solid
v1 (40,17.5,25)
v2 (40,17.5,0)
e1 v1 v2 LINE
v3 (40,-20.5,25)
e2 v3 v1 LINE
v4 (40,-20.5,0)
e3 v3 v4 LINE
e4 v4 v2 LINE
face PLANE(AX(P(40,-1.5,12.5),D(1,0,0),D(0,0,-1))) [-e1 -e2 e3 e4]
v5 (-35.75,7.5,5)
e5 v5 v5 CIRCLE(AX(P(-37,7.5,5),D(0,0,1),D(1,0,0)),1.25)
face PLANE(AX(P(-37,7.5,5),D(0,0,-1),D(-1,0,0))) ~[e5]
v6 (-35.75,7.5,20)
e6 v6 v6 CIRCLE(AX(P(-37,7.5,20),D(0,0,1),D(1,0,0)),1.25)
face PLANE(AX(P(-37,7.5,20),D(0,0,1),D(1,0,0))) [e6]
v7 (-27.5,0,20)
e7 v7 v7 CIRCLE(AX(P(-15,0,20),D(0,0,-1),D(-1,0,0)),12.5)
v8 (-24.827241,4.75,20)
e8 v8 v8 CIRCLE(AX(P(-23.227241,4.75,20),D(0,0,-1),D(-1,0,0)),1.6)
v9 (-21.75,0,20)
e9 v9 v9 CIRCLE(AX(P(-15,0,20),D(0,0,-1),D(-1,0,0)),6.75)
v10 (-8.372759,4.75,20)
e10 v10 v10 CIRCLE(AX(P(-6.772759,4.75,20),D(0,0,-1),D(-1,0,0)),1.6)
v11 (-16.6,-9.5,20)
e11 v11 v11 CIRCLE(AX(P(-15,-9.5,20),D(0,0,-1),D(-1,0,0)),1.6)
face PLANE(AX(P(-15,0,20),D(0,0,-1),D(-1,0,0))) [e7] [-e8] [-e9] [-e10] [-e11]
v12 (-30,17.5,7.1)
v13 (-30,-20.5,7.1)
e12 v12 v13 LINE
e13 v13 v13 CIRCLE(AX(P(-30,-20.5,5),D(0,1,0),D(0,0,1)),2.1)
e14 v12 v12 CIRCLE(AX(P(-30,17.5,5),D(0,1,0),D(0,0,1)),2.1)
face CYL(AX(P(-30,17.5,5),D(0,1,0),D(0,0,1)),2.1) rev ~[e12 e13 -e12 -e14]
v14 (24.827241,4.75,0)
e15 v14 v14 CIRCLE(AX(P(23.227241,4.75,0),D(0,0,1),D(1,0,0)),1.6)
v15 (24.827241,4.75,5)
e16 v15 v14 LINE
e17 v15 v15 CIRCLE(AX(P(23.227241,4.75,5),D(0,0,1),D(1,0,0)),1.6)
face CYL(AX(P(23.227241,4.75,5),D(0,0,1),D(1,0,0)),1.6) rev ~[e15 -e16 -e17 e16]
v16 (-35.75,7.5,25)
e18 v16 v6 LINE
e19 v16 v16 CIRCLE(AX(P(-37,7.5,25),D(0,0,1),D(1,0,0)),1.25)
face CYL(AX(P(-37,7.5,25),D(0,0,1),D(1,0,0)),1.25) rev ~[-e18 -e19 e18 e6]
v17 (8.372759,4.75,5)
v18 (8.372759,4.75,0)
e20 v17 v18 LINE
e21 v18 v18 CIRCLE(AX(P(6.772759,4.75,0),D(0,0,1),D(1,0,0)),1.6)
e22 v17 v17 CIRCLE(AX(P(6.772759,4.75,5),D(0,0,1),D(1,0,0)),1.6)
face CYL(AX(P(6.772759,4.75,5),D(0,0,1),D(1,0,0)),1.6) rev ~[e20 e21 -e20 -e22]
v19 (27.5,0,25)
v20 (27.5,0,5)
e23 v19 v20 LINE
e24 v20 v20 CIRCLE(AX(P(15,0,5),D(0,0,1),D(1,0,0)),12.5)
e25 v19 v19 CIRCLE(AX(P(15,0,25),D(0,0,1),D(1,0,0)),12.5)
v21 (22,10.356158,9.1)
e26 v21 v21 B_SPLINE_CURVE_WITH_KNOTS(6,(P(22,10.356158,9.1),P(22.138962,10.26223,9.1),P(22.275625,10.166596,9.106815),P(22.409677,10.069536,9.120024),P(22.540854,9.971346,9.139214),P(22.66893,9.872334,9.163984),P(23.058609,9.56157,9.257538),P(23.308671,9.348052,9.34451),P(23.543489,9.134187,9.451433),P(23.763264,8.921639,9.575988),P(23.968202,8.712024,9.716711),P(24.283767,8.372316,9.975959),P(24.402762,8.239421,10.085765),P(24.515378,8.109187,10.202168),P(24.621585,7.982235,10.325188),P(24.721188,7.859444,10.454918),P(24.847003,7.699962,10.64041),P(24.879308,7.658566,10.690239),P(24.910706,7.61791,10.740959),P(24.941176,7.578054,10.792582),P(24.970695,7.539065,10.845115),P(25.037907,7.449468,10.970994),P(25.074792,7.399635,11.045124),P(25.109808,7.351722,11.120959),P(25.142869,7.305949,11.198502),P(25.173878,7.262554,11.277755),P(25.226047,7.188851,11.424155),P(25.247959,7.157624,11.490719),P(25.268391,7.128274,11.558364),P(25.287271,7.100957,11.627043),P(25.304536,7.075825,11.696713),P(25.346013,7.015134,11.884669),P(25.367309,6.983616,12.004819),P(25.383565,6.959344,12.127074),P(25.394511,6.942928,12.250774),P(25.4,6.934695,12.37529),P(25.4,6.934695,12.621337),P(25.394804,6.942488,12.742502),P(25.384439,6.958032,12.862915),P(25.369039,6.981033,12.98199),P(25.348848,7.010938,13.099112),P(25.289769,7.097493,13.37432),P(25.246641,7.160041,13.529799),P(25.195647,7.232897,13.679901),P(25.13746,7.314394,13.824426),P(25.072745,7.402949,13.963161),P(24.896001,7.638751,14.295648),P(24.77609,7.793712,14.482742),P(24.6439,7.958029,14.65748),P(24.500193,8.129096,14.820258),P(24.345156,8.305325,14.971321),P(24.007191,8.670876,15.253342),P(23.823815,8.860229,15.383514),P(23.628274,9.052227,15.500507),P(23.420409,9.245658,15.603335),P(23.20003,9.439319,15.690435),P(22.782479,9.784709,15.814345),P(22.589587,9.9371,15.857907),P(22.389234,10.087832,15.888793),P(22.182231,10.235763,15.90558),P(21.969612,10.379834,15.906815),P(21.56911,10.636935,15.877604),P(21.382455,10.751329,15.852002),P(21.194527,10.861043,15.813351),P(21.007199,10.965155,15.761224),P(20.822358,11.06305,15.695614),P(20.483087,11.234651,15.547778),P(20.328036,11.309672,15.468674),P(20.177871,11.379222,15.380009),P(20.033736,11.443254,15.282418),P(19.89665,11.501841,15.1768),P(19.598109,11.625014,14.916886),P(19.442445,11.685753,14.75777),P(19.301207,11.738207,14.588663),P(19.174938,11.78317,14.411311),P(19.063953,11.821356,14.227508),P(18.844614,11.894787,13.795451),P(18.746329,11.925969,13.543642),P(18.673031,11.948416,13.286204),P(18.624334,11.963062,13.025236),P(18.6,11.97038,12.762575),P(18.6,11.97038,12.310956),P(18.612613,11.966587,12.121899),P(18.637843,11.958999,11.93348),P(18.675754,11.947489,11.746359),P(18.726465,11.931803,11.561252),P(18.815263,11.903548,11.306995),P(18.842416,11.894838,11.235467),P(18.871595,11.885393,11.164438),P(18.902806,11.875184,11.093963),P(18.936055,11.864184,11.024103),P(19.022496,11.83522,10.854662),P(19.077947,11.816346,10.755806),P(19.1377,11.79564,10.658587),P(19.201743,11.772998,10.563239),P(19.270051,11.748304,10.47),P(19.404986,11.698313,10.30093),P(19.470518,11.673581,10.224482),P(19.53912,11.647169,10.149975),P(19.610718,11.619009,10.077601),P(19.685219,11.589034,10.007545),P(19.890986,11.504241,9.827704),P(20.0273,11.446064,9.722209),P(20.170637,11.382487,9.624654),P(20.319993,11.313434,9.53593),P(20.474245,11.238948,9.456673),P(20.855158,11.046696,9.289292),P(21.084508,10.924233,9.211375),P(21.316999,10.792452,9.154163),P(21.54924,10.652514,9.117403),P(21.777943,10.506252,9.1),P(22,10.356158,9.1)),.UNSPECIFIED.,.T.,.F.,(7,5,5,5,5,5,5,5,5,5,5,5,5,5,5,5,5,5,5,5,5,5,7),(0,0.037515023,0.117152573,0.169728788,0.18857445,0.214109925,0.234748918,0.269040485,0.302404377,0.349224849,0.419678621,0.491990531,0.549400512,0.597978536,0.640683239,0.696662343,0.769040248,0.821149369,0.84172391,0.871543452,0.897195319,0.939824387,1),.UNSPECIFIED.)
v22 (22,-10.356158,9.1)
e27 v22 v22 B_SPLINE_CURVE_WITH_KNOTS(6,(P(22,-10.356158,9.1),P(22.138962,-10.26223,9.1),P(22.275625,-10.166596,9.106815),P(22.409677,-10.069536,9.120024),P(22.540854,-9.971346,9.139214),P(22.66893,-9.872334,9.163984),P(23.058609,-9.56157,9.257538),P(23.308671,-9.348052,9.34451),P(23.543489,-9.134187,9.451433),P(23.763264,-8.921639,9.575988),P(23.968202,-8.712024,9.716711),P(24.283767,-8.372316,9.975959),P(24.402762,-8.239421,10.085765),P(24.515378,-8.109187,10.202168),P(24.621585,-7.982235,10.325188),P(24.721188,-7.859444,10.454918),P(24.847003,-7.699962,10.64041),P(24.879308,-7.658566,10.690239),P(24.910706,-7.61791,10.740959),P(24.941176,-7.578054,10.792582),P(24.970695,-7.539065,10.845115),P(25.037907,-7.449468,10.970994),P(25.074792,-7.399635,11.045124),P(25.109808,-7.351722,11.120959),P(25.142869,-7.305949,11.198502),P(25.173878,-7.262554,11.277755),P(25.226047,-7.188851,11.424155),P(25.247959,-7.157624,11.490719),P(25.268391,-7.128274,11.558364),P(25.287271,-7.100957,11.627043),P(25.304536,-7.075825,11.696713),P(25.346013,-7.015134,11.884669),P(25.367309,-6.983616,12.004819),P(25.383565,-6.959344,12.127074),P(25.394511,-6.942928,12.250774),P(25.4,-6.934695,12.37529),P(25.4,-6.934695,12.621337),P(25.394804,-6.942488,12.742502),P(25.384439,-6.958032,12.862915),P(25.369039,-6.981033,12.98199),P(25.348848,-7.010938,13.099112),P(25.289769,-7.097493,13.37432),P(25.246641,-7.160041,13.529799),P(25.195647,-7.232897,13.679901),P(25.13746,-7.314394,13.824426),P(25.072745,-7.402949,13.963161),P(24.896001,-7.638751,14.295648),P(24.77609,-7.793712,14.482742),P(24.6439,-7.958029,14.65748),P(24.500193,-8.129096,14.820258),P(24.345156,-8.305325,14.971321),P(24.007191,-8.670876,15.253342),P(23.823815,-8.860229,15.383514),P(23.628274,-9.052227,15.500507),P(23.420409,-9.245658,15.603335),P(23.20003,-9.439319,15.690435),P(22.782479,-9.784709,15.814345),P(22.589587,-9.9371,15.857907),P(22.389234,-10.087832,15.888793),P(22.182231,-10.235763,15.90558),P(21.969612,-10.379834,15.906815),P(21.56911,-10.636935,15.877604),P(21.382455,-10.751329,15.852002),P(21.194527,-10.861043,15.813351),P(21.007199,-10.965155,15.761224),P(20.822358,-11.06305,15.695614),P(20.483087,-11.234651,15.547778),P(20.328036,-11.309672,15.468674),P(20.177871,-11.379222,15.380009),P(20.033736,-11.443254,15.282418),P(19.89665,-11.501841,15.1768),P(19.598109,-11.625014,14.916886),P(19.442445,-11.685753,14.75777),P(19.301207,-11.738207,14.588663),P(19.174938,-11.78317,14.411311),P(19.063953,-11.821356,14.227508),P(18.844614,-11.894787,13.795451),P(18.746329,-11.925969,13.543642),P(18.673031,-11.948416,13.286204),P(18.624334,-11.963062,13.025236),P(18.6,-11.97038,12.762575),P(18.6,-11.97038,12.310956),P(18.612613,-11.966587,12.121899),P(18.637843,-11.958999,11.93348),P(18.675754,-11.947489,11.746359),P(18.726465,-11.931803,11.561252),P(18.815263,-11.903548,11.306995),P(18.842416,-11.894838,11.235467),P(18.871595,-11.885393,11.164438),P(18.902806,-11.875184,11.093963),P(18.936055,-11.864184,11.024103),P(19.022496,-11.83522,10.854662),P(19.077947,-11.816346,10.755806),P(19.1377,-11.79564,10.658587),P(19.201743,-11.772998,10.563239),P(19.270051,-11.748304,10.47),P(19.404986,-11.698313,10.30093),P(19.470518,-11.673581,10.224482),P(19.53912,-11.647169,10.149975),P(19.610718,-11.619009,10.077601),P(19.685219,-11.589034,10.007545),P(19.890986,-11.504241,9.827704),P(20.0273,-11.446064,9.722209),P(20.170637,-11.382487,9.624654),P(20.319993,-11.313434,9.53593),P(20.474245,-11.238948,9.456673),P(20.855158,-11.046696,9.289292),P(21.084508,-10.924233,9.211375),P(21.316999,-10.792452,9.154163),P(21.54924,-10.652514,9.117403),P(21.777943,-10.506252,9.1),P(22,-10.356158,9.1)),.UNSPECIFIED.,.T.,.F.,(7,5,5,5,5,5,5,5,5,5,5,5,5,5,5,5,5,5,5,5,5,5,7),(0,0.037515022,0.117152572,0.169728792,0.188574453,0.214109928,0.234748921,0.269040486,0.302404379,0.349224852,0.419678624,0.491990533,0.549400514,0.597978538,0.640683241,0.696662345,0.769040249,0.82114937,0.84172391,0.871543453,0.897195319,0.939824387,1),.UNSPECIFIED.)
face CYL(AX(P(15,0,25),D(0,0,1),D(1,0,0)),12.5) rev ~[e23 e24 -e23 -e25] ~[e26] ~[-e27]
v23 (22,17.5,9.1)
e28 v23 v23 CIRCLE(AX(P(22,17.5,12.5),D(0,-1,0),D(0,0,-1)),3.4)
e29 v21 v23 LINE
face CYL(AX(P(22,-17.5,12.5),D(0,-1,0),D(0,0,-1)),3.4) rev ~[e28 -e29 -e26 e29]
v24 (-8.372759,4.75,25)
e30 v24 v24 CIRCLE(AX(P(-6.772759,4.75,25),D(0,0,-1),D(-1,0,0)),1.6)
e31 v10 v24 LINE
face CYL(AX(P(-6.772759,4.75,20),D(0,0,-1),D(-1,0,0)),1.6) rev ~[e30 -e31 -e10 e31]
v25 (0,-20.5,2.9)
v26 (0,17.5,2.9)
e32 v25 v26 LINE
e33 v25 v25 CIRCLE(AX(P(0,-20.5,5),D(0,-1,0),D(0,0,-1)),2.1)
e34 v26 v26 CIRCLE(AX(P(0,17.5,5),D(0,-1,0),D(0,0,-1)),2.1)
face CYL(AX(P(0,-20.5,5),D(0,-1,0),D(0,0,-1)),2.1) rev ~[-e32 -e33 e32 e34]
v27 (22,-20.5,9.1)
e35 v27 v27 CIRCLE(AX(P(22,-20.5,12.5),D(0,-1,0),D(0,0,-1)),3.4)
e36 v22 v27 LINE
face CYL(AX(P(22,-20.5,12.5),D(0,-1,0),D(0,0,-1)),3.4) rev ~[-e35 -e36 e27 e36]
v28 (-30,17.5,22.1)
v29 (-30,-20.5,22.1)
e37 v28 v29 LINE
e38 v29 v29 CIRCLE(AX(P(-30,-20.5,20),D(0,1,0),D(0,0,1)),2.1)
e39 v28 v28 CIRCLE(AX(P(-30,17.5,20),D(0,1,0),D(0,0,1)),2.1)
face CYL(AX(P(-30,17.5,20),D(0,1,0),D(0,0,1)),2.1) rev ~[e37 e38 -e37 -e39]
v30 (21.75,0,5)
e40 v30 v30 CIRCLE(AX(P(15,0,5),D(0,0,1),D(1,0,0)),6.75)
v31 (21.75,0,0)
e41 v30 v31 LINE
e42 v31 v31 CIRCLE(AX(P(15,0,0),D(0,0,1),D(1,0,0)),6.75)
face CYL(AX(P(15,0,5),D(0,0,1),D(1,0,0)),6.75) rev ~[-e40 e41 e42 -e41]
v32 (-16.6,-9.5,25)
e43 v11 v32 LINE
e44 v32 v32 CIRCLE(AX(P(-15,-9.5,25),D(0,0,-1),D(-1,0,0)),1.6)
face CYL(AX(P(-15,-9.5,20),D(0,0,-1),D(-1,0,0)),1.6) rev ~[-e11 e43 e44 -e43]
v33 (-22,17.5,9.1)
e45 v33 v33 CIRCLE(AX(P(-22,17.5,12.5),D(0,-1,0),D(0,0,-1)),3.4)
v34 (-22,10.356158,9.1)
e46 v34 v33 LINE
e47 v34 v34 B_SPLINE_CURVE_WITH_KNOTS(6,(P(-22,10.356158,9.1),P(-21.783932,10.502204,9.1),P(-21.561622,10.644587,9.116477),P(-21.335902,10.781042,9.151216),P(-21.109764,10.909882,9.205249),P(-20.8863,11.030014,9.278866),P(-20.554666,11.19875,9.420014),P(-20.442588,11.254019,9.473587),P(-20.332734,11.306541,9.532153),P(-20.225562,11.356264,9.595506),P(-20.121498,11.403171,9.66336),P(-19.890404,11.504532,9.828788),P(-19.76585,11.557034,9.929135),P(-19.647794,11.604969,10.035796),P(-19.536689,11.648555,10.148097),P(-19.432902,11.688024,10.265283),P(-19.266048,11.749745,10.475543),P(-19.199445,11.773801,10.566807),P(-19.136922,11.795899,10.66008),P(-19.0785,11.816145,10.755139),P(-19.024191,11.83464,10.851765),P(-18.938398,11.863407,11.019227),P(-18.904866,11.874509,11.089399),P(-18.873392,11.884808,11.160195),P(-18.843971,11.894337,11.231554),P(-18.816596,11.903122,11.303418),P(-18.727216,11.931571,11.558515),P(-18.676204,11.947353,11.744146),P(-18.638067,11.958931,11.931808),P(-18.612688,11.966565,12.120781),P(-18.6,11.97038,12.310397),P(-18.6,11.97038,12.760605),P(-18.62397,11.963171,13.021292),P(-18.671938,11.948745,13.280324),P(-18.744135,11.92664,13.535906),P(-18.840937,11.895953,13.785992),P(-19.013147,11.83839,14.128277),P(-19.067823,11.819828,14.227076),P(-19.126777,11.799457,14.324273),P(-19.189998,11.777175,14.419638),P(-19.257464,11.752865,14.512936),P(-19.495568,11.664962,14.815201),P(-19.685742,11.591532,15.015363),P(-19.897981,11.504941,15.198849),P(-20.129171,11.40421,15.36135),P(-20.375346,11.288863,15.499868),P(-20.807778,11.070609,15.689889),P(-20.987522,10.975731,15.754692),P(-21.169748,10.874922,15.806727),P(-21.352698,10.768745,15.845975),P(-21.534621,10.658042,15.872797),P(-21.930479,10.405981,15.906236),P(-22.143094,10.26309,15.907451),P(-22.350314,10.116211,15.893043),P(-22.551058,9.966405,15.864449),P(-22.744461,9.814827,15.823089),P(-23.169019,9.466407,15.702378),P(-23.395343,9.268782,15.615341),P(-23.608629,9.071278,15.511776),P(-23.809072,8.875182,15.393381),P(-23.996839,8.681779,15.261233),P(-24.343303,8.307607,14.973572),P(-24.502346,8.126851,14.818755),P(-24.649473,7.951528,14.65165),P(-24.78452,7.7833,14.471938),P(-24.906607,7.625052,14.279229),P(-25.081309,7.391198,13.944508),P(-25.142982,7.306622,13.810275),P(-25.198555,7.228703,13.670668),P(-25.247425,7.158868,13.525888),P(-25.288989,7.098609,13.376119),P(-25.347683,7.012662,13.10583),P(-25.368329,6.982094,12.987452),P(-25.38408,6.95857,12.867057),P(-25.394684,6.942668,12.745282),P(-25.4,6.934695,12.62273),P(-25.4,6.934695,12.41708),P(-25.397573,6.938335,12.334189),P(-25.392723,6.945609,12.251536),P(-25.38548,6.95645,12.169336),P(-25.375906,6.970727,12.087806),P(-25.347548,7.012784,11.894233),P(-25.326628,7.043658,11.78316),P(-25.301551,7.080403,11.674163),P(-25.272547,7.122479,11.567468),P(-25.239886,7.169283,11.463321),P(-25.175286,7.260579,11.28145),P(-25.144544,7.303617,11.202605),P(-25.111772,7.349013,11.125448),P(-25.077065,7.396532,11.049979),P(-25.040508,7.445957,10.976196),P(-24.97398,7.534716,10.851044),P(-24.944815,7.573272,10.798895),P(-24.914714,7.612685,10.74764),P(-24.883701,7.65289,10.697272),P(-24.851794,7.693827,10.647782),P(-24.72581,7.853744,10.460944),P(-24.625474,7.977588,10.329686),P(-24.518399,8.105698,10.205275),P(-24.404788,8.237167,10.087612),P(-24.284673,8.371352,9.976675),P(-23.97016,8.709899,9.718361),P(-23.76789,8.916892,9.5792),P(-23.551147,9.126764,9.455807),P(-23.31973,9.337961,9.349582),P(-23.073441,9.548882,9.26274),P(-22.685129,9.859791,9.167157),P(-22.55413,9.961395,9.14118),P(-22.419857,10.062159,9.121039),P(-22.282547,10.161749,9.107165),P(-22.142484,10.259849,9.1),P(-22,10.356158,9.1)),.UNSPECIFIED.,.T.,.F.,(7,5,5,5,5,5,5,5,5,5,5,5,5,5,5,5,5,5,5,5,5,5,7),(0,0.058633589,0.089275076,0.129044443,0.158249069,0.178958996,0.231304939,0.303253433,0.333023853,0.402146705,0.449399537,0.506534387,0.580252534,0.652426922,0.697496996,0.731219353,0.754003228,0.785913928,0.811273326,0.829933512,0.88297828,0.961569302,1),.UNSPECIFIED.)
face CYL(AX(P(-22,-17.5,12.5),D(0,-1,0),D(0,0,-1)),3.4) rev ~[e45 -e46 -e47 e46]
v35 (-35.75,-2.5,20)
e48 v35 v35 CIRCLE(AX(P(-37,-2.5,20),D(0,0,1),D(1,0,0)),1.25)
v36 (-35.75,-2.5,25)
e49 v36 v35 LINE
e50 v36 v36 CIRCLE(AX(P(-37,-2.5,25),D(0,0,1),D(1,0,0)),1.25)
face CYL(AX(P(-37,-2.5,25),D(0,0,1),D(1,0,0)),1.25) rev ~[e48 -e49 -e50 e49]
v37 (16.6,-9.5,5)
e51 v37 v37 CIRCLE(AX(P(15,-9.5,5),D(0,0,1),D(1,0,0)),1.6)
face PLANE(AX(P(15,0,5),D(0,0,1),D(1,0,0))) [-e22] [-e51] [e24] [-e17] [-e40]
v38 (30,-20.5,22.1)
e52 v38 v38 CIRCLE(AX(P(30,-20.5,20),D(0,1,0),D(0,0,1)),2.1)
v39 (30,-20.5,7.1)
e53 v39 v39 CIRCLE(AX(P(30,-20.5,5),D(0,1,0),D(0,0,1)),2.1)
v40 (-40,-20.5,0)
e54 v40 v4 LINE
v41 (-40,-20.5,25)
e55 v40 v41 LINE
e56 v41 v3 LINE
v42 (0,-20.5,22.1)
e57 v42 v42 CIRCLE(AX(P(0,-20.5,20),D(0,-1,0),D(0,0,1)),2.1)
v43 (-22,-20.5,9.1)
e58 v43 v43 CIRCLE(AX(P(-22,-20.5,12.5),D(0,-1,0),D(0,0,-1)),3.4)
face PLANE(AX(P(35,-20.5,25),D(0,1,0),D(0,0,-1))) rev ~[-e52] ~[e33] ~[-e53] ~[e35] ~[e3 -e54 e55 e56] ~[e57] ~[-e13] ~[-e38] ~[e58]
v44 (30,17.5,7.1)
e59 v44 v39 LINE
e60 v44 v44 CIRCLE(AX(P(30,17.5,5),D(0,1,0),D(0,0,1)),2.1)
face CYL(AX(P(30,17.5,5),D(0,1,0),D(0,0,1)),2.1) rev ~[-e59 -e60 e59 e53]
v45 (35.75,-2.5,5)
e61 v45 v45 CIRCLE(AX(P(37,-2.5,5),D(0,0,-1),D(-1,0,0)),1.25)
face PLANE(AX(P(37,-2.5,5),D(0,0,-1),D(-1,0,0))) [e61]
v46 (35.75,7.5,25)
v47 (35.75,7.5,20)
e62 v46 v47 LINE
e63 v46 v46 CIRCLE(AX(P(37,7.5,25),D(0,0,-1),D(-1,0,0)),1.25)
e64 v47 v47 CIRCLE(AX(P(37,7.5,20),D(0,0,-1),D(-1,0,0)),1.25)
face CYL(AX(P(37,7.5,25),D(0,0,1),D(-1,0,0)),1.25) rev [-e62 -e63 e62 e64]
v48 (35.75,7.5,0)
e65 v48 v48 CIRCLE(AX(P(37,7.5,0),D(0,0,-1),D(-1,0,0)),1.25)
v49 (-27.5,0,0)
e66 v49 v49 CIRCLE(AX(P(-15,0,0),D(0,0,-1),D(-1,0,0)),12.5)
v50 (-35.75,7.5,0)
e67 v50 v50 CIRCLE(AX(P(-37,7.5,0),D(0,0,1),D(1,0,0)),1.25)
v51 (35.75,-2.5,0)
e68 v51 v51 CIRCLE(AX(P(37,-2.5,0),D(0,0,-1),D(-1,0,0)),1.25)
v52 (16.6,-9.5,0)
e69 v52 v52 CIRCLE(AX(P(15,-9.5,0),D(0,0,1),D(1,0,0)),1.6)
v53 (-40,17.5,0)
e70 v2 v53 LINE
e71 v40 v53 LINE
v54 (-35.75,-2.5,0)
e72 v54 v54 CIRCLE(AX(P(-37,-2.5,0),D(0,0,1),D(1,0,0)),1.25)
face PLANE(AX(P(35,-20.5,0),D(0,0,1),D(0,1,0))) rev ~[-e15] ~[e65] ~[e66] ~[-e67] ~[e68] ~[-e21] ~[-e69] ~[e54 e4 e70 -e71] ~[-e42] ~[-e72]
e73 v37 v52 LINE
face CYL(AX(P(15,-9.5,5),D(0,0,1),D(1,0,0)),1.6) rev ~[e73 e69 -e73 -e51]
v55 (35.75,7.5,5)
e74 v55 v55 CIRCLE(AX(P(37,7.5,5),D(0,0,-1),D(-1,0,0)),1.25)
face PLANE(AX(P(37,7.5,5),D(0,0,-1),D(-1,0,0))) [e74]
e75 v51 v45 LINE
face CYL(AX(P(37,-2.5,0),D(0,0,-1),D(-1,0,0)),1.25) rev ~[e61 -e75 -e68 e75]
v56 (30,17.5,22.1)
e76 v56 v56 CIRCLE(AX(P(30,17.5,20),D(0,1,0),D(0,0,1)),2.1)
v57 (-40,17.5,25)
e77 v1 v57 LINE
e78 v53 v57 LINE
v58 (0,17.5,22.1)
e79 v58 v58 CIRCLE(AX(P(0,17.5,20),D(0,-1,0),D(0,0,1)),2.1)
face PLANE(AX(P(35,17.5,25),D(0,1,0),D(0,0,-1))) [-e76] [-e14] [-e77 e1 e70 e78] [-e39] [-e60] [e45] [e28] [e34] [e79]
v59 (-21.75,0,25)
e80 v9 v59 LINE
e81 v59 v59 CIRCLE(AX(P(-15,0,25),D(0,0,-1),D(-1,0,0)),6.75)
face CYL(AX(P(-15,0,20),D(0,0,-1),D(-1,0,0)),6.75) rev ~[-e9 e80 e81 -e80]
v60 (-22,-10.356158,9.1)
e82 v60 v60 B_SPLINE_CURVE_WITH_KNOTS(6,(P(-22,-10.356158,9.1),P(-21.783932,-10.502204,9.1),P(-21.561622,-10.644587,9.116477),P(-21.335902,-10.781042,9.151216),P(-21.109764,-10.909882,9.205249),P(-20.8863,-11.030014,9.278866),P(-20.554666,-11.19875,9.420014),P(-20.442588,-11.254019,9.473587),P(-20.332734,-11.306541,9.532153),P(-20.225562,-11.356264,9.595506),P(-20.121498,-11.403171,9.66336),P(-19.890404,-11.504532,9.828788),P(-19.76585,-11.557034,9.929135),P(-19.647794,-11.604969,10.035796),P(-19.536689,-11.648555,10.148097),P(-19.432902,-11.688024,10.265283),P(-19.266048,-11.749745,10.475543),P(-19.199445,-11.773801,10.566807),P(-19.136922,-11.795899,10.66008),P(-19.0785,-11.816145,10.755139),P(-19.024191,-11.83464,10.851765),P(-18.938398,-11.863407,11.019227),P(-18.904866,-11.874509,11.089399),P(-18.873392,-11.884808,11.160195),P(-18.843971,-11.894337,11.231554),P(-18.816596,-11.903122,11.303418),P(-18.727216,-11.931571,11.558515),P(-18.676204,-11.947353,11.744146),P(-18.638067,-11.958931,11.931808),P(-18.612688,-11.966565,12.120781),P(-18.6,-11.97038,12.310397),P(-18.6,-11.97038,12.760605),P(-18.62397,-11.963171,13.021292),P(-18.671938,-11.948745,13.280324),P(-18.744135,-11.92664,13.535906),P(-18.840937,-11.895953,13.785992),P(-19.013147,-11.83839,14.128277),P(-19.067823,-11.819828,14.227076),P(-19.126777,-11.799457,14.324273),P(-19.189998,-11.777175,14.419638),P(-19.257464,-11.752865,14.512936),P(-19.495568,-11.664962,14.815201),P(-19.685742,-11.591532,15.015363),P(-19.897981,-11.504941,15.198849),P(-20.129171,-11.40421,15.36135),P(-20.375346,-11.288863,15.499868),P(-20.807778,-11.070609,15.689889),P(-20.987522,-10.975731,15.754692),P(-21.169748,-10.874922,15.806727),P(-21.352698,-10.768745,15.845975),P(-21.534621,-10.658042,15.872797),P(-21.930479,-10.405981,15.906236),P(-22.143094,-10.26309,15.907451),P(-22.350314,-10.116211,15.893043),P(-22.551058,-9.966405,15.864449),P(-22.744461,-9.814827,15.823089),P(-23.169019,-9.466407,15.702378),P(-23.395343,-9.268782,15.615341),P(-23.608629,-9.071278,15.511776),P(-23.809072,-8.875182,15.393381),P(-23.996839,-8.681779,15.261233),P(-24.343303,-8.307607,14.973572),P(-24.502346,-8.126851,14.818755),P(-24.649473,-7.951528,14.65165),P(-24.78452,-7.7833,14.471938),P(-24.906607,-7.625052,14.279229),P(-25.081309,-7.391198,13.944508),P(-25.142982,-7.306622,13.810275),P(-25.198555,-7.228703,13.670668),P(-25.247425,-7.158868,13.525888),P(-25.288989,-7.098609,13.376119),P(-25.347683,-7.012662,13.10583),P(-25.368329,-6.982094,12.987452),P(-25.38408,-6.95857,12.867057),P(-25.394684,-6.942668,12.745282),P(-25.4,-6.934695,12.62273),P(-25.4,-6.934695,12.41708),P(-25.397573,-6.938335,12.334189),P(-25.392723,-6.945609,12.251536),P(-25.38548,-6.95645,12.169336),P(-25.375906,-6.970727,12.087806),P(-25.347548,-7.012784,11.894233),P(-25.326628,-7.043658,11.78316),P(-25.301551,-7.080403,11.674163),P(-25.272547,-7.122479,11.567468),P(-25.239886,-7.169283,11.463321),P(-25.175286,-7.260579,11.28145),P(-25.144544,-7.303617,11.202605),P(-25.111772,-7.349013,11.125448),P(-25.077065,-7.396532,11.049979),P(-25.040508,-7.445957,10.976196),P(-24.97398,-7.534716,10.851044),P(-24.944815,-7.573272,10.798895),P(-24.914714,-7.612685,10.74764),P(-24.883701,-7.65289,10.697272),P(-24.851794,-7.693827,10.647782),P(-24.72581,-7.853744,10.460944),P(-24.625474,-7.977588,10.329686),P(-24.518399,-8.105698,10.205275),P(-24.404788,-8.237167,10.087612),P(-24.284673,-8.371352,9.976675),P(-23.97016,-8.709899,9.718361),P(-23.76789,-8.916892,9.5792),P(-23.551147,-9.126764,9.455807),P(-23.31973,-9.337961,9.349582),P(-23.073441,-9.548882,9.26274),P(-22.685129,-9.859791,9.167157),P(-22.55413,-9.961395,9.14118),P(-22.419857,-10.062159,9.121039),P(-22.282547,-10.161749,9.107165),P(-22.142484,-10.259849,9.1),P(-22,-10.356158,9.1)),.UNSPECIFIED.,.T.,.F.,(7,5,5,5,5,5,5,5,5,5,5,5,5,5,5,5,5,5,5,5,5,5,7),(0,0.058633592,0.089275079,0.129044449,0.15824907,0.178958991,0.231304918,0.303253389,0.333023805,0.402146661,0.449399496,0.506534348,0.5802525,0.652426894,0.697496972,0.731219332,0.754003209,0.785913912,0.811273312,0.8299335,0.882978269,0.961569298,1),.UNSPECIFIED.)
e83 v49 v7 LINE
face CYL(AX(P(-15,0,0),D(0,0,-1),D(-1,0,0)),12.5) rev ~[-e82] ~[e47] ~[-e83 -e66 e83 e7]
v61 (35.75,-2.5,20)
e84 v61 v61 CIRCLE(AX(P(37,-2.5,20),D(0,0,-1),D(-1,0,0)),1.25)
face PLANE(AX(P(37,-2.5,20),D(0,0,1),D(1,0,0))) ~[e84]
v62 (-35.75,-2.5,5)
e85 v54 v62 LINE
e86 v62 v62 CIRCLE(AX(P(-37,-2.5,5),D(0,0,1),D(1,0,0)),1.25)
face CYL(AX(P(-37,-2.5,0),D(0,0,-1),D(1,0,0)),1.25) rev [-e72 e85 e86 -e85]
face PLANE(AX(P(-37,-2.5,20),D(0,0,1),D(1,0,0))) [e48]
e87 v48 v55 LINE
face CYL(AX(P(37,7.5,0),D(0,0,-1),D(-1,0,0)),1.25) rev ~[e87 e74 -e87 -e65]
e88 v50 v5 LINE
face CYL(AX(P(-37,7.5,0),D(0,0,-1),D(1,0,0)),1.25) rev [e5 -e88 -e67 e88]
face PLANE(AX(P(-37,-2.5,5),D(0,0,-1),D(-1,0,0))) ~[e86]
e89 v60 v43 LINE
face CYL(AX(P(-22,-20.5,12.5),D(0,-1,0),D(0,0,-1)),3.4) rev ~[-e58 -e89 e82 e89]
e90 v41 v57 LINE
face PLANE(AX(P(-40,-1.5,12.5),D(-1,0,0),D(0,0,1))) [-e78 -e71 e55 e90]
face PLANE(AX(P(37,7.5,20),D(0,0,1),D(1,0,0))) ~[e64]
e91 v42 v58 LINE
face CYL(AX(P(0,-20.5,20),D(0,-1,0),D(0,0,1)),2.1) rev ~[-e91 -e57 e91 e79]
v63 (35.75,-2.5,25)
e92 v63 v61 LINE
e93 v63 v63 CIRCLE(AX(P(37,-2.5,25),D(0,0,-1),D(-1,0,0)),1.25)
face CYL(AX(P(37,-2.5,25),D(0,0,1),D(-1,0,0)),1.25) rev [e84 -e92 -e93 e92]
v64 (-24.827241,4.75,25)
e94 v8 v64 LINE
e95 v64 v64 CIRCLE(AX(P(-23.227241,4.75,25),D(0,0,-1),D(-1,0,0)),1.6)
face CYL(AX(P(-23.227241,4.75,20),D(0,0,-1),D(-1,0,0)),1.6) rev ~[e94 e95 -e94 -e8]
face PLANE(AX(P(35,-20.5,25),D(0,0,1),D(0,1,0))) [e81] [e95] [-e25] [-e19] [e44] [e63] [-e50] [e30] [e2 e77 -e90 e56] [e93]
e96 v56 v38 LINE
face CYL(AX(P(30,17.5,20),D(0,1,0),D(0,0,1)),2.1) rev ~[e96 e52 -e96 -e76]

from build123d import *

# Parameters (mm, degrees)
SKETCH_1_W               = 70
SKETCH_1_H               = 35
EXTRUDE_1_DEPTH          = 25
SKETCH_3_R               = 12.5
CUT_EXTRUDE_2_DEPTH      = 20
SKETCH_5_R               = 6.75
CUT_EXTRUDE_4_DEPTH      = 5
SKETCH_6_R               = 1.6
CUT_EXTRUDE_5_DEPTH      = 5
SKETCH_8_R               = 12.5
CUT_EXTRUDE_6_DEPTH      = 20
SKETCH_9_R               = 6.75
CUT_EXTRUDE_7_DEPTH      = 20
SKETCH_10_R              = 1.6
CUT_EXTRUDE_8_DEPTH      = 44.945989578
SKETCH_11_R              = 3.4
CUT_EXTRUDE_9_DEPTH      = 56.452682532
EXTRUDE_START            = 3
SKETCH_13_W              = 70
SKETCH_13_H              = 25
SKETCH_13_R              = 3.4
EXTRUDE_3_DEPTH          = 3
SKETCH_2_R               = 2.1
CUT_EXTRUDE_1_DEPTH      = 58.393379519
SKETCH_15_W              = 25
SKETCH_15_H              = 38
EXTRUDE_4_DEPTH          = 5
SKETCH_16_W              = 25
SKETCH_16_H              = 38
EXTRUDE_5_DEPTH          = 5
SKETCH_17_R              = 2.1
CUT_EXTRUDE_11_DEPTH     = 61.572270988
SKETCH_18_R              = 1.25
CUT_EXTRUDE_12_DEPTH     = 5
MIRROR_2_COPY_1_SKETCH_R = 1.25
MIRROR_2_COPY_1_DEPTH    = 5


with BuildPart() as part:
    # 草图1 → 凸台-拉伸1 (new body)
    with BuildSketch(Plane.XY):
        Rectangle(SKETCH_1_W, SKETCH_1_H)
    extrude(amount=EXTRUDE_1_DEPTH)

    # 草图3 → 切除-拉伸2 (cut)
    with BuildSketch(Plane(origin=(0, 0, 0), x_dir=(-1, 0, 0), z_dir=(0, 0, -1))):
        with Locations((15, 0)):
            Circle(SKETCH_3_R)
    extrude(amount=-CUT_EXTRUDE_2_DEPTH, mode=Mode.SUBTRACT)

    # 草图5 → 切除-拉伸4 (cut)
    with BuildSketch(Plane(origin=(0, 0, 20), x_dir=(-1, 0, 0), z_dir=(0, 0, -1))):
        with Locations((15, 0)):
            Circle(SKETCH_5_R)
    extrude(amount=-CUT_EXTRUDE_4_DEPTH, mode=Mode.SUBTRACT)

    # 草图6 → 切除-拉伸5 (cut)
    with BuildSketch(Plane(origin=(0, 0, 20), x_dir=(-1, 0, 0), z_dir=(0, 0, -1))):
        with Locations((15, -9.5)):
            Circle(SKETCH_6_R)
        with Locations((6.772758664, 4.75)):
            Circle(SKETCH_6_R)
        with Locations((23.227241336, 4.75)):
            Circle(SKETCH_6_R)
    extrude(amount=-CUT_EXTRUDE_5_DEPTH, mode=Mode.SUBTRACT)

    # 草图8 → 切除-拉伸6 (cut)
    with BuildSketch(Plane.XY.offset(25)):
        with Locations((15, 0)):
            Circle(SKETCH_8_R)
    extrude(amount=-CUT_EXTRUDE_6_DEPTH, mode=Mode.SUBTRACT)

    # 草图9 → 切除-拉伸7 (cut)
    with BuildSketch(Plane.XY.offset(5)):
        with Locations((15, 0)):
            Circle(SKETCH_9_R)
    extrude(amount=-CUT_EXTRUDE_7_DEPTH, mode=Mode.SUBTRACT)

    # 草图10 → 切除-拉伸8 (cut, through all)
    with BuildSketch(Plane.XY.offset(5)):
        with Locations((15, -9.5)):
            Circle(SKETCH_10_R)
        with Locations((6.772758664, 4.75)):
            Circle(SKETCH_10_R)
        with Locations((23.227241336, 4.75)):
            Circle(SKETCH_10_R)
    extrude(amount=-CUT_EXTRUDE_8_DEPTH, mode=Mode.SUBTRACT)

    # 草图11 → 切除-拉伸9 (cut, through all)
    with BuildSketch(Plane.XZ.offset(17.5)):
        with Locations(Location((22, 12.5, 0), (0, 0, 270))):
            Circle(SKETCH_11_R)
        with Locations(Location((-22, 12.5, 0), (0, 0, 270))):
            Circle(SKETCH_11_R)
    extrude(amount=-CUT_EXTRUDE_9_DEPTH, mode=Mode.SUBTRACT)

    # 草图13 → 凸台-拉伸3 (add)
    with BuildSketch(Plane.XZ.offset(17.5).offset(EXTRUDE_START)):
        with Locations((0, 12.5)):
            Rectangle(SKETCH_13_W, SKETCH_13_H)
        with Locations(Location((-22, 12.5, 0), (0, 0, 270))):
            Circle(SKETCH_13_R, mode=Mode.SUBTRACT)
        with Locations(Location((22, 12.5, 0), (0, 0, 270))):
            Circle(SKETCH_13_R, mode=Mode.SUBTRACT)
    extrude(amount=-EXTRUDE_3_DEPTH)

    # 草图2 → 切除-拉伸1 (cut, through all)
    with BuildSketch(Plane(origin=(0, 17.5, 0), x_dir=(1, 0, 0), z_dir=(0, 1, 0))):
        with Locations(Location((30, -5, 0), (0, 0, 270))):
            Circle(SKETCH_2_R)
        with Locations(Location((30, -20, 0), (0, 0, 270))):
            Circle(SKETCH_2_R)
        with Locations(Location((-30, -5, 0), (0, 0, 270))):
            Circle(SKETCH_2_R)
        with Locations(Location((-30, -20, 0), (0, 0, 270))):
            Circle(SKETCH_2_R)
    extrude(amount=-CUT_EXTRUDE_1_DEPTH, mode=Mode.SUBTRACT)

    # 草图15 → 凸台-拉伸4 (add)
    with BuildSketch(Plane.ZY.offset(35)):
        with Locations((12.5, -1.5)):
            Rectangle(SKETCH_15_W, SKETCH_15_H)
    extrude(amount=EXTRUDE_4_DEPTH)

    # 草图16 → 凸台-拉伸5 (add)
    with BuildSketch(Plane(origin=(35, 0, 0), x_dir=(0, 0, -1), z_dir=(1, 0, 0))):
        with Locations((-12.5, -1.5)):
            Rectangle(SKETCH_16_W, SKETCH_16_H)
    extrude(amount=EXTRUDE_5_DEPTH)

    # 草图17 → 切除-拉伸11 (cut, through all)
    with BuildSketch(Plane.XZ.offset(20.5)):
        with Locations(Location((0, 5, 0), (0, 0, 270))):
            Circle(SKETCH_17_R)
        with Locations(Location((0, 20, 0), (0, 0, 90))):
            Circle(SKETCH_17_R)
    extrude(amount=-CUT_EXTRUDE_11_DEPTH, mode=Mode.SUBTRACT)

    # 草图18 → 切除-拉伸12 (cut)
    with BuildSketch(Plane(origin=(0, 0, 0), x_dir=(-1, 0, 0), z_dir=(0, 0, -1))):
        with Locations((-37, 7.5)):
            Circle(SKETCH_18_R)
        with Locations((-37, -2.5)):
            Circle(SKETCH_18_R)
    cut_extrude_12 = extrude(amount=-CUT_EXTRUDE_12_DEPTH, mode=Mode.SUBTRACT)

    # 镜向1: 切除-拉伸12 across plane
    add(cut_extrude_12.mirror(Plane.XY.offset(12.5)), mode=Mode.SUBTRACT)

    # 镜向2: 切除-拉伸12 across plane
    add(cut_extrude_12.mirror(Plane(origin=(0, 0, 0), x_dir=(0, 0, 1), z_dir=(1, 0, 0))), mode=Mode.SUBTRACT)

    # 镜向2 copy 1 sketch → 镜向2 copy 1 (cut)
    with BuildSketch(Plane.XY.offset(25)):
        with Locations((-37, 7.5)):
            Circle(MIRROR_2_COPY_1_SKETCH_R)
        with Locations((-37, -2.5)):
            Circle(MIRROR_2_COPY_1_SKETCH_R)
    extrude(amount=-MIRROR_2_COPY_1_DEPTH, mode=Mode.SUBTRACT)


solid = part.part
